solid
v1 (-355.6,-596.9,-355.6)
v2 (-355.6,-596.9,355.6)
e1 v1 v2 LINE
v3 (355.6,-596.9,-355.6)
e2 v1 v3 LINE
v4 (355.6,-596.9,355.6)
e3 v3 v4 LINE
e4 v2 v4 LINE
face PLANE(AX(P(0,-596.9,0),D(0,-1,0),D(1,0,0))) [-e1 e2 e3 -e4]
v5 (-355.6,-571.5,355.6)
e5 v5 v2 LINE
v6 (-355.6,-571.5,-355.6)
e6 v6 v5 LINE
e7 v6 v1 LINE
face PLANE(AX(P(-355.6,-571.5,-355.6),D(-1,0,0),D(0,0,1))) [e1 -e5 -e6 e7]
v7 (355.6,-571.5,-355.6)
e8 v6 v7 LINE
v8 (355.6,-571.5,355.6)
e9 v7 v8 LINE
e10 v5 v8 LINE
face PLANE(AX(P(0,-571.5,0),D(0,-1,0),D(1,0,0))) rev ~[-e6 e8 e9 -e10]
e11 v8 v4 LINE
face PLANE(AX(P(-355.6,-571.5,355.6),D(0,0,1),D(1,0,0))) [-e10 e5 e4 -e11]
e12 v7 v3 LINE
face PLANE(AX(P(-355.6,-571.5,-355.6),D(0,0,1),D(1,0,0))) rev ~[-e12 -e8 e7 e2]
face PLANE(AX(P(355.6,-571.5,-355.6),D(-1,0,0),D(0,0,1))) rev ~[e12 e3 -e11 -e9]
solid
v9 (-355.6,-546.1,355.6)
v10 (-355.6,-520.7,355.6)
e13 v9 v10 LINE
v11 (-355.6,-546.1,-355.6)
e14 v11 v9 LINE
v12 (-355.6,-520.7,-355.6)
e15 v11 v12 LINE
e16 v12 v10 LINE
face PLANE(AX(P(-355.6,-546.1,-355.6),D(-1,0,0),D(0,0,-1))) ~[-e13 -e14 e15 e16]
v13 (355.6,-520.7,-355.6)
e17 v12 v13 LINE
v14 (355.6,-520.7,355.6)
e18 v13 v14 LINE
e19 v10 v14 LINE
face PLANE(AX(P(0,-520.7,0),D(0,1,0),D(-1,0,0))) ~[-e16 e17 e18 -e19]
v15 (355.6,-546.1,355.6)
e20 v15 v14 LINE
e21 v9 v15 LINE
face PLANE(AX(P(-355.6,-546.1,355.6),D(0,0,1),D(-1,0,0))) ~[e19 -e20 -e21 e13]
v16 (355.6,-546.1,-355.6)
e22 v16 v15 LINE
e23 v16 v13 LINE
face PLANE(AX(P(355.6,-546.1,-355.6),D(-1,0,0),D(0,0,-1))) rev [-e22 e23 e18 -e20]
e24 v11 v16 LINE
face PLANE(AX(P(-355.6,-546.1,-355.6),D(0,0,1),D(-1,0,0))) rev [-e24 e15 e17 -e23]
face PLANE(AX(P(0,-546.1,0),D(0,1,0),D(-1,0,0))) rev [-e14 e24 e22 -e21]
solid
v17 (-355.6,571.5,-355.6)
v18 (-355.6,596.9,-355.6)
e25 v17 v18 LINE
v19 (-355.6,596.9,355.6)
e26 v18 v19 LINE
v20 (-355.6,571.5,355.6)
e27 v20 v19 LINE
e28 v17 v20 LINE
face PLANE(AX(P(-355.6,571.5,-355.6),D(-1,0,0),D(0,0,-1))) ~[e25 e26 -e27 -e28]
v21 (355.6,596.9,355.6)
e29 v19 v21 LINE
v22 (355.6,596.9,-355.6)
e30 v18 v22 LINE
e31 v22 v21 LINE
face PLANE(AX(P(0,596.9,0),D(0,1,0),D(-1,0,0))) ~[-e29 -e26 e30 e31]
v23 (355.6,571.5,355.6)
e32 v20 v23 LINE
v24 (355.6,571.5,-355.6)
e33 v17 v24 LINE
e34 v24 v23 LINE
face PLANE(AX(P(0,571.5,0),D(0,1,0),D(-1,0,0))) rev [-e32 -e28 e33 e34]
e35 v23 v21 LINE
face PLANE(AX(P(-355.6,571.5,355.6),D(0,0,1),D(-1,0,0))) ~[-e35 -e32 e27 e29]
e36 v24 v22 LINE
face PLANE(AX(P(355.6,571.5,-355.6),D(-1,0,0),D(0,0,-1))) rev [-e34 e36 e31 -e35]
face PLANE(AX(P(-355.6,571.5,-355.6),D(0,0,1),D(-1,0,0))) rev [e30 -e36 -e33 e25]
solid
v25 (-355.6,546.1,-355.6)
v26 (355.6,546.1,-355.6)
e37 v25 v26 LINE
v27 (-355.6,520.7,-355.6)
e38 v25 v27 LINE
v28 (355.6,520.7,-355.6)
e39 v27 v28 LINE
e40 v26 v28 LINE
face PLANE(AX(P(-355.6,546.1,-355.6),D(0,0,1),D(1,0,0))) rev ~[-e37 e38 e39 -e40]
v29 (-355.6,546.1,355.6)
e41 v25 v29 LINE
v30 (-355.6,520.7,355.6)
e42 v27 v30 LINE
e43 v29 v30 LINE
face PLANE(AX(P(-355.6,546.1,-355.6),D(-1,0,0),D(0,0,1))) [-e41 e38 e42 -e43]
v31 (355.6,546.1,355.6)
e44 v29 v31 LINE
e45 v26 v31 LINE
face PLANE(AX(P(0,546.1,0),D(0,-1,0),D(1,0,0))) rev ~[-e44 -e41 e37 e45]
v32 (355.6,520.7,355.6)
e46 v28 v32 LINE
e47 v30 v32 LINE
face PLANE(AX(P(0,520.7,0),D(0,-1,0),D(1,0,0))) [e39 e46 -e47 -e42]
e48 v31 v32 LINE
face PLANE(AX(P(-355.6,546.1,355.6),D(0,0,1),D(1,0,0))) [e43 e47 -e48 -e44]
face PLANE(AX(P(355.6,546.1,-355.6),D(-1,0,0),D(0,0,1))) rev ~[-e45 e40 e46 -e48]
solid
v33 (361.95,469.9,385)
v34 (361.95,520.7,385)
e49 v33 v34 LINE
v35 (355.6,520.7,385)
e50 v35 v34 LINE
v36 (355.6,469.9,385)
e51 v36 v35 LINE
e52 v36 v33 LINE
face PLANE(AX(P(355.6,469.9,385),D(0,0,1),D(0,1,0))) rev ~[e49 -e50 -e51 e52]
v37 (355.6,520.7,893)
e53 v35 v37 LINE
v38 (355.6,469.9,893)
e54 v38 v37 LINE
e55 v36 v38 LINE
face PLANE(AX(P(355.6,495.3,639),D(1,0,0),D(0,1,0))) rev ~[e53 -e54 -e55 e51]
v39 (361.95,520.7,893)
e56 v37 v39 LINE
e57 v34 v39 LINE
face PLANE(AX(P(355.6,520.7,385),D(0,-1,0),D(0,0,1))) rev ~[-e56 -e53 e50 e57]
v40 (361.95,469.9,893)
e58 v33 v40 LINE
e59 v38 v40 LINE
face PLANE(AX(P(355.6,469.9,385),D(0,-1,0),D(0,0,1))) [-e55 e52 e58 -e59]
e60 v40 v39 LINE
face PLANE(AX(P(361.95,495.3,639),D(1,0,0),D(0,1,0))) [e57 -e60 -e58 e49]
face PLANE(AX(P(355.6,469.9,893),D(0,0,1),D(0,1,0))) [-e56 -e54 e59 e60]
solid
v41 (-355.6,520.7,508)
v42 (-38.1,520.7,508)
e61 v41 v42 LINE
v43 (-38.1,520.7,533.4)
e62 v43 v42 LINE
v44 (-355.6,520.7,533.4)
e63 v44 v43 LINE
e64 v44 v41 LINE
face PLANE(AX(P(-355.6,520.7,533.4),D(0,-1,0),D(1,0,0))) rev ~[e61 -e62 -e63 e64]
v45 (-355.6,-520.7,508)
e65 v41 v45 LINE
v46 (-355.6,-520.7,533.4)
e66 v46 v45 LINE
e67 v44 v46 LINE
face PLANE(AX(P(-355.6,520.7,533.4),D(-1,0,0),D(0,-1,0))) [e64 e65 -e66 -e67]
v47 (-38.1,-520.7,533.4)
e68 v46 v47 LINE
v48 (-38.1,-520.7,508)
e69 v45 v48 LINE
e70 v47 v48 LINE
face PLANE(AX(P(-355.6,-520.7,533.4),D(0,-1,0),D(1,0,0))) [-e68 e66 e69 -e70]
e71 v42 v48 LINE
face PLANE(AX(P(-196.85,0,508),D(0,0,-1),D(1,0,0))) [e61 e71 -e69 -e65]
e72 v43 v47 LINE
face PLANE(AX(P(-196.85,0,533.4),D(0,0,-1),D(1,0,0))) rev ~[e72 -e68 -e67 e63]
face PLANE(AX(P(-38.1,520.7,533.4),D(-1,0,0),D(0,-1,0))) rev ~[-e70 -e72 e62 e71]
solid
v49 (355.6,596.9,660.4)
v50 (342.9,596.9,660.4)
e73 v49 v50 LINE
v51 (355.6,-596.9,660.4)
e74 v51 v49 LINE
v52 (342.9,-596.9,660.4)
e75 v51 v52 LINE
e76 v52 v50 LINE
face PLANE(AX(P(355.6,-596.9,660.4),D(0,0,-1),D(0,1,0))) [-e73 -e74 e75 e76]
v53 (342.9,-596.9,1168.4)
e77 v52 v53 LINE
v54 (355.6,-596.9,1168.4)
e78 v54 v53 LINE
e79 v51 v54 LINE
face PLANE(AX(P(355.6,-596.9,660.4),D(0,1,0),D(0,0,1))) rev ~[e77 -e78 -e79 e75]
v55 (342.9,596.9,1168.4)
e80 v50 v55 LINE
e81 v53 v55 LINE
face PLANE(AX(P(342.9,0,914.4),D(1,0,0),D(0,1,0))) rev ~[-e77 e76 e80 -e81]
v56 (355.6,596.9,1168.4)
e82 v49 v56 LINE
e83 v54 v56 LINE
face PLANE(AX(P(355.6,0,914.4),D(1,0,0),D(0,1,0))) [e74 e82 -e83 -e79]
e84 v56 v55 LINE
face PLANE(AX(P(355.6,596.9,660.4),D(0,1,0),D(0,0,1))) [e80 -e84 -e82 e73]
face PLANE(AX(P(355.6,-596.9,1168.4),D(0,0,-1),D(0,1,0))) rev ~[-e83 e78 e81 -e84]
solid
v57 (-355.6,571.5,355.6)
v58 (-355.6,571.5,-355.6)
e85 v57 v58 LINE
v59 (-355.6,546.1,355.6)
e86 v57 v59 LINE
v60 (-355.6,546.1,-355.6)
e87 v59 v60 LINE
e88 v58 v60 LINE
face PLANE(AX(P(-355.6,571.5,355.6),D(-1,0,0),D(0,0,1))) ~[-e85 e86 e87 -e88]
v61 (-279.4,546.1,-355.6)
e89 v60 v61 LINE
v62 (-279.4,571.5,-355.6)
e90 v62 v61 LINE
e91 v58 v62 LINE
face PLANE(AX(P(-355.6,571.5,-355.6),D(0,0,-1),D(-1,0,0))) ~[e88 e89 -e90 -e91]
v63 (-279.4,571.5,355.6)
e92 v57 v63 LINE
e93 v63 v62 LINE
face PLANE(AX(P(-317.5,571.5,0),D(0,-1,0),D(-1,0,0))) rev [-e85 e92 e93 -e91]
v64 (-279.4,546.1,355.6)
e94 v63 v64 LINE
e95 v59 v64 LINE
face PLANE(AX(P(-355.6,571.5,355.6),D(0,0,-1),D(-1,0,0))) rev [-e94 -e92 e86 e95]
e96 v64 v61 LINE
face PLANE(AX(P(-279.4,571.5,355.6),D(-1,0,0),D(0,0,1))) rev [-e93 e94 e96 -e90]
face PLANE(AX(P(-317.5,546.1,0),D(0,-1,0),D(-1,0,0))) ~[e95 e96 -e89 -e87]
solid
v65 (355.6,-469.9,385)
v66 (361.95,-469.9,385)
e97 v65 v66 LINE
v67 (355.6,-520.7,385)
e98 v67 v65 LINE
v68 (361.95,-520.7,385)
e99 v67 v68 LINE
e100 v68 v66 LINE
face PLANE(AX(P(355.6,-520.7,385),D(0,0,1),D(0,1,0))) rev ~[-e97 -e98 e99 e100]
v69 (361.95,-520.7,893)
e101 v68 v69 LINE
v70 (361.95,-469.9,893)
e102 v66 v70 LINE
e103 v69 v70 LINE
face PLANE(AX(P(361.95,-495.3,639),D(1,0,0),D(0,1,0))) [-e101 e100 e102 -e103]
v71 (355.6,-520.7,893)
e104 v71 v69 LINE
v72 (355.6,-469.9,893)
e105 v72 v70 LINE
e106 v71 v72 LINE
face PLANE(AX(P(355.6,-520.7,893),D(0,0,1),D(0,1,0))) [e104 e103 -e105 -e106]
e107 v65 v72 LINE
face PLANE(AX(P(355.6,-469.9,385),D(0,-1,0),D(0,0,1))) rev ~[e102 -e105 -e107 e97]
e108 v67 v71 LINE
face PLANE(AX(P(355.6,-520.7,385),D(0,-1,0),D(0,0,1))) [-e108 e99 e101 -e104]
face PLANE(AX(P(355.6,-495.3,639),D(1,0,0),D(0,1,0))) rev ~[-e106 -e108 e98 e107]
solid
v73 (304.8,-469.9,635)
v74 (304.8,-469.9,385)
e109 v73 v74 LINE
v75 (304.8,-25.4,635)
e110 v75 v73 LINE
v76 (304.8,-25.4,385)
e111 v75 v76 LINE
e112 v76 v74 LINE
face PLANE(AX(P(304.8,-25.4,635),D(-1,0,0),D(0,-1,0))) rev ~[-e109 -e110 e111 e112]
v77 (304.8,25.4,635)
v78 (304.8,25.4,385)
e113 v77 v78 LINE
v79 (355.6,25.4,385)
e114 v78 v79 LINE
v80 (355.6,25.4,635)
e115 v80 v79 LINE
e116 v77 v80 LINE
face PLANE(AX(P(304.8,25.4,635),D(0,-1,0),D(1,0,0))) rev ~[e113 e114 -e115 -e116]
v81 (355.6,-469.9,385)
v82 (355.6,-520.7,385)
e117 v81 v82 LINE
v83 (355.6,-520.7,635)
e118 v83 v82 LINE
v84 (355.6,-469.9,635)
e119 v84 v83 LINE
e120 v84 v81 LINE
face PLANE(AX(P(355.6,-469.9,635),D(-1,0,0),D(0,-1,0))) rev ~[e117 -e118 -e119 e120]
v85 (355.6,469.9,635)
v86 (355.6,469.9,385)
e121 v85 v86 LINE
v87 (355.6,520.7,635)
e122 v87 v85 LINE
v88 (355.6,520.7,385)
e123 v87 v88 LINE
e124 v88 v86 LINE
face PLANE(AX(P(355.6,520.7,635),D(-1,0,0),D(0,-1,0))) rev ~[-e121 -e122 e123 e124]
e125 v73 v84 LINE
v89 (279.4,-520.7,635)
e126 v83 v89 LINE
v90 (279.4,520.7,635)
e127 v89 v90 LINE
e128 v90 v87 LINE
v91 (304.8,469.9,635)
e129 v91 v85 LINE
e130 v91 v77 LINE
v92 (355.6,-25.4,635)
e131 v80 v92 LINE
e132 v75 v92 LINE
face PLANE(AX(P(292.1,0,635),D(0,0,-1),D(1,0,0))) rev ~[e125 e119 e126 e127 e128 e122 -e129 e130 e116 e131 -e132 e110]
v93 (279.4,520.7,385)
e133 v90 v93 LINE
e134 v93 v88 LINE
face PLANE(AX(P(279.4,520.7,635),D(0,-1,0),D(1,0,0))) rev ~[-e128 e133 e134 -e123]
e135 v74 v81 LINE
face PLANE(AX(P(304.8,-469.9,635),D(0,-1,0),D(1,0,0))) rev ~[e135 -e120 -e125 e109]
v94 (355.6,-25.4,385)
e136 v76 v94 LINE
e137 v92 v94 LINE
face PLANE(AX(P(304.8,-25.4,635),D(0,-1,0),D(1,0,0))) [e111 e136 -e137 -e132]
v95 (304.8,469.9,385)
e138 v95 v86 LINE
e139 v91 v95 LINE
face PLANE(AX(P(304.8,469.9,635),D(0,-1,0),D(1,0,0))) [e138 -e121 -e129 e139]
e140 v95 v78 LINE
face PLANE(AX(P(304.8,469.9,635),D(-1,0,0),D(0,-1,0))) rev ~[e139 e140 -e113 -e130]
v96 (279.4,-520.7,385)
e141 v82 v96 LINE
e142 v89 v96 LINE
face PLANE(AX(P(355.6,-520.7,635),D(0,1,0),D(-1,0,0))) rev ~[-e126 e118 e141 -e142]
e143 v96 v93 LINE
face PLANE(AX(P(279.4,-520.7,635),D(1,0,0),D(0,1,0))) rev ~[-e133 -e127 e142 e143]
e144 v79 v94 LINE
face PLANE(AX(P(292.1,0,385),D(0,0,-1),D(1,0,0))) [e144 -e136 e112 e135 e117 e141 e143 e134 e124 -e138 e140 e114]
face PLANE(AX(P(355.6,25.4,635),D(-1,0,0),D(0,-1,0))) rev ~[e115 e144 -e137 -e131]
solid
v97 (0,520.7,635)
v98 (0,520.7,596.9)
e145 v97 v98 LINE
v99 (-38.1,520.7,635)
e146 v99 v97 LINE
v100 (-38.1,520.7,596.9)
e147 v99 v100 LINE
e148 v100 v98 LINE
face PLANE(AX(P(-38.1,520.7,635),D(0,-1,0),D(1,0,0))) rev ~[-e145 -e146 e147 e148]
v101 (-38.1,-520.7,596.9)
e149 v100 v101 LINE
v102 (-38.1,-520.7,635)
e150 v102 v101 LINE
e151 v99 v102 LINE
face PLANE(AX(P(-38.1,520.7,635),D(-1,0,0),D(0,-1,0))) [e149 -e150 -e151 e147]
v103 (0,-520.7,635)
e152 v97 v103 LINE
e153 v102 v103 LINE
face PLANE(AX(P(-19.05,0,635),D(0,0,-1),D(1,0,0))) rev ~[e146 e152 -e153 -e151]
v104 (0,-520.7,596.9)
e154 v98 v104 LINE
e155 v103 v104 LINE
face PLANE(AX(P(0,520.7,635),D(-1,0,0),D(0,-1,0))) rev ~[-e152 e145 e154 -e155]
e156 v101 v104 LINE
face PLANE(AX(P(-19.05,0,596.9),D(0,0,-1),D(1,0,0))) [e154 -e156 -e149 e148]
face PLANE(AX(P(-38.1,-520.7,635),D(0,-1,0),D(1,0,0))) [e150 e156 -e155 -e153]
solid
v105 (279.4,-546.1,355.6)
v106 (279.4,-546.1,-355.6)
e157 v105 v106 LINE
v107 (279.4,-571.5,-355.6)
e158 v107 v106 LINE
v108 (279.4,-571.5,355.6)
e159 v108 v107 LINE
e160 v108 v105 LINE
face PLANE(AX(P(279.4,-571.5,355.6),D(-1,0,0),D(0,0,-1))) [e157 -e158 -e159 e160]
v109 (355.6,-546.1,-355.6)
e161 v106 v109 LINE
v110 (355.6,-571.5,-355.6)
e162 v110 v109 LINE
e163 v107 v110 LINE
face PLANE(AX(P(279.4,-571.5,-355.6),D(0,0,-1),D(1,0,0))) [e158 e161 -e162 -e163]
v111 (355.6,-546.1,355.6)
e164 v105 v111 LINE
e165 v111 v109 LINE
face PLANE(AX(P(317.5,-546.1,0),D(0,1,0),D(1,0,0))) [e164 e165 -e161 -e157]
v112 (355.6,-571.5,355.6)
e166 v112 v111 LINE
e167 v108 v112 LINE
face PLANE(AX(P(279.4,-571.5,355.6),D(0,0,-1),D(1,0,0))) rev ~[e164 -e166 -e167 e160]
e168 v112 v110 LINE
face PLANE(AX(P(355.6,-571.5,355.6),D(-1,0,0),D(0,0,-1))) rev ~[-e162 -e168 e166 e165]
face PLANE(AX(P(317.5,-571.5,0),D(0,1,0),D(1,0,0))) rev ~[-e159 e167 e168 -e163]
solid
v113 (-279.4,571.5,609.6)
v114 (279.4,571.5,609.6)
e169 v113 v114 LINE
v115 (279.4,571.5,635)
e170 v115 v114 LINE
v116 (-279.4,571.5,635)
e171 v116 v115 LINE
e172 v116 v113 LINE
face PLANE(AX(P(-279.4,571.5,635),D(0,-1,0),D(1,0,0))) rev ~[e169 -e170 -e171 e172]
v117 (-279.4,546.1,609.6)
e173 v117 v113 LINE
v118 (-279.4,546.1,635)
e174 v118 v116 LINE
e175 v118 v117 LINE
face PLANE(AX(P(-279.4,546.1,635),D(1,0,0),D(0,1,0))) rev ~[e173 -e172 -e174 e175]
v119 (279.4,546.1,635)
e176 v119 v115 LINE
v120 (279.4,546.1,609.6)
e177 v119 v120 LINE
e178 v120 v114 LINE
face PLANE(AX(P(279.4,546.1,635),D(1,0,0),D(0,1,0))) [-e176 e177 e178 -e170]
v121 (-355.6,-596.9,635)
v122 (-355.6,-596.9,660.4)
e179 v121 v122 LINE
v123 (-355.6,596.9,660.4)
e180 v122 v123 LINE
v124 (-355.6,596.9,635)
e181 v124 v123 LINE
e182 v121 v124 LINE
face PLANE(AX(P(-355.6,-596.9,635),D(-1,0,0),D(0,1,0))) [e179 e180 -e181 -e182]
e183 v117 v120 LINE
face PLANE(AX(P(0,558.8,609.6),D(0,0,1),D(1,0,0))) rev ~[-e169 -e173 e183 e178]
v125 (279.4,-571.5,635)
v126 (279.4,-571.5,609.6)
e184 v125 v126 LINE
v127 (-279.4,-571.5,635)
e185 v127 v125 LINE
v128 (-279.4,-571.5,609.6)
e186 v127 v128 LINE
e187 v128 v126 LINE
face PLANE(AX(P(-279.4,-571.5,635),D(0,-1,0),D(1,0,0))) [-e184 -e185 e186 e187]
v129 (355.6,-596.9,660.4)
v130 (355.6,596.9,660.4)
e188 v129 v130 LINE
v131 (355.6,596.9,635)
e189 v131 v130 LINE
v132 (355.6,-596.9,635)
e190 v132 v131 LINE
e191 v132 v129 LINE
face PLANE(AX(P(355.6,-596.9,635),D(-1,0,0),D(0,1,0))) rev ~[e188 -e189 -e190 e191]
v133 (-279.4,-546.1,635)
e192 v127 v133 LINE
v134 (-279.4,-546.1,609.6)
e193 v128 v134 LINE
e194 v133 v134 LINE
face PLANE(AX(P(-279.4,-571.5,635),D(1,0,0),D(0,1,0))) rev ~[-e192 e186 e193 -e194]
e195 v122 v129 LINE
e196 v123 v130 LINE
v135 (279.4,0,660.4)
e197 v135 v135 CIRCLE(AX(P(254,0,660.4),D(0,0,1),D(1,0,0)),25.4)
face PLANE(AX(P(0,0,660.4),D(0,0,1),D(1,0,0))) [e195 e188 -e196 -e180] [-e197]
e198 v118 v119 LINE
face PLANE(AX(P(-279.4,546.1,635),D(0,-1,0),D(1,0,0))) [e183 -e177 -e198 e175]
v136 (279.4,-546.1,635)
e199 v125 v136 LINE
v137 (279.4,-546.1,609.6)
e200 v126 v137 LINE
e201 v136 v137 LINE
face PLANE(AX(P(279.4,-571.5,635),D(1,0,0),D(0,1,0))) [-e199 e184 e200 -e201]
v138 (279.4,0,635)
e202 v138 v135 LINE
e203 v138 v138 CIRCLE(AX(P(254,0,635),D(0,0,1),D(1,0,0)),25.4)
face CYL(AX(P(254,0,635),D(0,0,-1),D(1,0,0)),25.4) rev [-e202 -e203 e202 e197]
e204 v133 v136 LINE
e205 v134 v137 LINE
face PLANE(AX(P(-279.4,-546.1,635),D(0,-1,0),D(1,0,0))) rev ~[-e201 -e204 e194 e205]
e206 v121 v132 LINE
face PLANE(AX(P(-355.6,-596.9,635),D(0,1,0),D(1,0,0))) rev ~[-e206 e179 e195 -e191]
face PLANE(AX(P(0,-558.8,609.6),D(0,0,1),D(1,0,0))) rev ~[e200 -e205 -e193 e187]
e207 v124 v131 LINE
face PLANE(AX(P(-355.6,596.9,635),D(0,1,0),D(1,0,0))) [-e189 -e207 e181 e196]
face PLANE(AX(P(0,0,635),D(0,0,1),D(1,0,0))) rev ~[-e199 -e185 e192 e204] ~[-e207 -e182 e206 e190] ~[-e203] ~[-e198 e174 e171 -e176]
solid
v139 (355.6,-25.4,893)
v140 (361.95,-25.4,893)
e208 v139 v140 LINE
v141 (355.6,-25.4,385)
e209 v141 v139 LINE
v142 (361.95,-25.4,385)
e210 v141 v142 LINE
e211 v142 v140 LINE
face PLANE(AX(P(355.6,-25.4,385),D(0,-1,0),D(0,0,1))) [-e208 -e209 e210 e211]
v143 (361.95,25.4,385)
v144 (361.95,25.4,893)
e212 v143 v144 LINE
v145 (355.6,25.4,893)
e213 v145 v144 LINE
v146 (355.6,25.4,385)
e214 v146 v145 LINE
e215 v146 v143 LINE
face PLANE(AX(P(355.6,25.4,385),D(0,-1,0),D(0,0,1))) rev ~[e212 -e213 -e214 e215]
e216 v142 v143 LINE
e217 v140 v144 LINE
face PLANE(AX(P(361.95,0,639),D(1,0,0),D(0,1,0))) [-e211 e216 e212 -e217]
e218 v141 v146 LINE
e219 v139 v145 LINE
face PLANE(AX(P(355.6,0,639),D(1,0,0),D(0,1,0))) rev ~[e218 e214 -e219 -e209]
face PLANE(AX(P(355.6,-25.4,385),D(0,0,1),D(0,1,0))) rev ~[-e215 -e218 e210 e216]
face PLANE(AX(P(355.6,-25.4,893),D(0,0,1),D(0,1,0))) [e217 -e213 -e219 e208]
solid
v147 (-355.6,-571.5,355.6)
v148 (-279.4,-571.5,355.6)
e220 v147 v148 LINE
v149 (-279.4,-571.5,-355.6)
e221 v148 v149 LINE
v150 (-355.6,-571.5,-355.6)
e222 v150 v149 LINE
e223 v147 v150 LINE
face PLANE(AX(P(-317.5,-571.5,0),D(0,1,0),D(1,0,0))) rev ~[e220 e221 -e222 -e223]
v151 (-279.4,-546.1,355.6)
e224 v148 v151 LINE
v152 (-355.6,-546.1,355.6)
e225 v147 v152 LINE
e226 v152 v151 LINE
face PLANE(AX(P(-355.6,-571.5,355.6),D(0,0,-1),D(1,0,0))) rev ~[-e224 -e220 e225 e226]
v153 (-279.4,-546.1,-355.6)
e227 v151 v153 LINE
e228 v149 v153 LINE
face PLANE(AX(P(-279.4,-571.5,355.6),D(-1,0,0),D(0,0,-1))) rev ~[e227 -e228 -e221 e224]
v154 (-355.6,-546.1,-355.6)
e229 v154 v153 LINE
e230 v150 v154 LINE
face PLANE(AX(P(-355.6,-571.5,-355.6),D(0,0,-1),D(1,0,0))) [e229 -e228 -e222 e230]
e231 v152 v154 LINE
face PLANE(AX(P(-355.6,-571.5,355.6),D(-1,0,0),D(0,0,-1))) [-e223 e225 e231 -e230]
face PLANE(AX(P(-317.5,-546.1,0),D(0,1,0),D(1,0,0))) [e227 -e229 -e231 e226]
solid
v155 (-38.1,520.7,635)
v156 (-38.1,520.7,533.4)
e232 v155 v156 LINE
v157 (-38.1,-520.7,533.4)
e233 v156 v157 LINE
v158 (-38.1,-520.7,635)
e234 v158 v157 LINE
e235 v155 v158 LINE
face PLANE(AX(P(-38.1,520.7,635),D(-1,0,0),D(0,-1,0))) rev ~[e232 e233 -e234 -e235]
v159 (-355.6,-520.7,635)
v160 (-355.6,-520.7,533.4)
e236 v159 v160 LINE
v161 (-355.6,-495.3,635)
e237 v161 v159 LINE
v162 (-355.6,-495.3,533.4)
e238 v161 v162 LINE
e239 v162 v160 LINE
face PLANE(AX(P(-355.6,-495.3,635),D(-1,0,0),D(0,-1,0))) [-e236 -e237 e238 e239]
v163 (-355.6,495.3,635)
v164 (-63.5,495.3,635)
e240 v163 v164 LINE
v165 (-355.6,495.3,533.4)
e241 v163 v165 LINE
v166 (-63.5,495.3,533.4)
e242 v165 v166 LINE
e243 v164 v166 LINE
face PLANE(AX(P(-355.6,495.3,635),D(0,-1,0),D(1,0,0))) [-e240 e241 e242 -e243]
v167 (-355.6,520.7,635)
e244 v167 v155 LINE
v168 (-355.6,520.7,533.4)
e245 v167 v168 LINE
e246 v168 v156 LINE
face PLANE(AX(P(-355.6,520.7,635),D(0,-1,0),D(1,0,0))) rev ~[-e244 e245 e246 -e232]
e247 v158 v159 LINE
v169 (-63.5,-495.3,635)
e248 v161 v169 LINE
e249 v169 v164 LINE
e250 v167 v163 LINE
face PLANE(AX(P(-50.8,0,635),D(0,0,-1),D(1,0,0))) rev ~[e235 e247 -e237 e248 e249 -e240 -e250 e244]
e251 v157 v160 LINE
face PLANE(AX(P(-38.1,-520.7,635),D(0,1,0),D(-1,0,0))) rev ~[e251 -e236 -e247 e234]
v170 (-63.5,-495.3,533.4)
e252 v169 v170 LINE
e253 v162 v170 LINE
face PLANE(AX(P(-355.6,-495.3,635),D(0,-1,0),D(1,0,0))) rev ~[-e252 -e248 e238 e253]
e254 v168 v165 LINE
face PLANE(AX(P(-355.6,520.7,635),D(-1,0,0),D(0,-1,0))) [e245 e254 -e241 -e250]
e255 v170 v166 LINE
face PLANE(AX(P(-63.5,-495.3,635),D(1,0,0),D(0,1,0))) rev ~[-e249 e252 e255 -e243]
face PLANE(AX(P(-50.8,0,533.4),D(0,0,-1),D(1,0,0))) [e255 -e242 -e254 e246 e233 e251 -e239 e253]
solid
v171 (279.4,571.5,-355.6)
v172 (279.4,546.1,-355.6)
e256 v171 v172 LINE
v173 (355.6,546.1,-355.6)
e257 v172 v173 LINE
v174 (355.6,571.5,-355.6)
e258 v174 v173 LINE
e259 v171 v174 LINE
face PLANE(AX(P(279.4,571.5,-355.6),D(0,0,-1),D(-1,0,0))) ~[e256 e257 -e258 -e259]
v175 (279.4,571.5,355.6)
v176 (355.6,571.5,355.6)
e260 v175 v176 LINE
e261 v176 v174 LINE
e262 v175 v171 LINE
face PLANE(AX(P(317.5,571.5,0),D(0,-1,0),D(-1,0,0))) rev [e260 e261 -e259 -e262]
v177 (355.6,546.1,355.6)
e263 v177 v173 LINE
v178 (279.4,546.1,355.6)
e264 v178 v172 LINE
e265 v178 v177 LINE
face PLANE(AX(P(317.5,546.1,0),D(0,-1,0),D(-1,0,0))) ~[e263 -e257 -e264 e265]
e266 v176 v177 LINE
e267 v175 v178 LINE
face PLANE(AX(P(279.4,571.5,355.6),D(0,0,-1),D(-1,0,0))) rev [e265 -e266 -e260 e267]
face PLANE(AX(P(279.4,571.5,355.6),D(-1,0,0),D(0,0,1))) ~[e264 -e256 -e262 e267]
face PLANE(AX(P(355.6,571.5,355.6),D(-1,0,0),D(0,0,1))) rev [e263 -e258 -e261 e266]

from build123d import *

# Parameters (mm, degrees)
F1_W      = 711.2
F1_H      = 711.2
F2_DEPTH  = 25.4
F5_W      = 76.2
F5_H      = 711.2
F7_DEPTH  = 25.4
F10_W     = 558.8
F10_H     = 25.4
F11_DEPTH = 25.4
F12_W     = 711.2
F12_H     = 1193.8
F12_R     = 25.4
F13_DEPTH = 25.4
F14_W     = 292.1
F14_H     = 25.4
F15_DEPTH = 101.6
F16_W     = 317.5
F16_H     = 1041.4
F17_DEPTH = 25.4
F18_W     = 50.8
F18_H     = 50.8
F19_DEPTH = 250
F20_W     = 1193.8
F20_H     = 508
F21_DEPTH = 12.7
F22_W     = 50.8
F22_H     = 508
F23_DEPTH = 6.35
F24_W     = 38.1
F24_H     = 1041.4
F25_DEPTH = 38.1


with BuildPart() as f2:
    # F1 (on offset) → F2 (new body)
    with BuildSketch(Plane.XZ.offset(571.5)):
        Rectangle(F1_W, F1_H)
    extrude(amount=F2_DEPTH)


with BuildPart() as f6_1:
    # F6: instance of F2
    add(f2.part.mirror(Plane.XZ.offset(558.8)))


with BuildPart() as f7:
    # F5 (on offset) → F7 (new body)
    with BuildSketch(Plane(origin=(0, -571.5, 0), x_dir=(1, 0, 0), z_dir=(0, 1, 0))):
        with Locations((-317.5, 0)):
            Rectangle(F5_W, F5_H)
        with Locations((317.5, 0)):
            Rectangle(F5_W, F5_H)
    extrude(amount=F7_DEPTH)


with BuildPart() as f8_1:
    # F8: instance of F2
    add(f2.part.mirror(Plane.XZ))


with BuildPart() as f8_2:
    # F8: instance of F7
    add(f7.part.mirror(Plane.XZ))


with BuildPart() as f8_3:
    # F8: instance of F6_1
    add(f6_1.part.mirror(Plane.XZ))


with BuildPart() as f11:
    # F10 (on offset) → F11 (new body)
    with BuildSketch(Plane.XY.offset(635)):
        with Locations((0, -558.8)):
            Rectangle(F10_W, F10_H)
        with Locations((0, 558.8)):
            Rectangle(F10_W, F10_H)
    extrude(amount=-F11_DEPTH)

    # F12 (on face) → F13 (join)
    with BuildSketch(Plane.XY.offset(635)):
        Rectangle(F12_W, F12_H)
        with Locations((254, 0)):
            Circle(F12_R, mode=Mode.SUBTRACT)
    extrude(amount=F13_DEPTH)


with BuildPart() as f15:
    # F14 (on face) → F15 (new body)
    with BuildSketch(Plane(origin=(0, 0, 635), x_dir=(1, 0, 0), z_dir=(0, 0, -1))):
        Polygon((-63.5, -520.7), (-38.1, -520.7), (-38.1, 520.7), (-63.5, 520.7), (-63.5, 495.3), (-63.5, 0), (-63.5, -495.3), align=None)
        with Locations((-209.55, -508)):
            Rectangle(F14_W, F14_H)
        with Locations((-209.55, 508)):
            Rectangle(F14_W, F14_H)
    extrude(amount=F15_DEPTH)


with BuildPart() as f17:
    # F16 (on face) → F17 (new body)
    with BuildSketch(Plane(origin=(0, 0, 533.4), x_dir=(1, 0, 0), z_dir=(0, 0, -1))):
        with Locations((-196.85, 0)):
            Rectangle(F16_W, F16_H)
    extrude(amount=F17_DEPTH)


with BuildPart() as f19:
    # F18 (on face) → F19 (new body)
    with BuildSketch(Plane(origin=(0, 0, 635), x_dir=(1, 0, 0), z_dir=(0, 0, -1))):
        Polygon((279.4, 520.7), (279.4, -520.7), (304.8, -520.7), (304.8, -469.9), (304.8, -25.4), (304.8, 25.4), (304.8, 469.9), (304.8, 520.7), align=None)
        with Locations((330.2, -495.3)):
            Rectangle(F18_W, F18_H)
        with Locations((330.2, 495.3)):
            Rectangle(F18_W, F18_H)
        with Locations((330.2, 0)):
            Rectangle(F18_W, F18_H)
    extrude(amount=F19_DEPTH)


with BuildPart() as f21:
    # F20 (on face) → F21 (new body)
    with BuildSketch(Plane.YZ.offset(355.6)):
        with Locations((0, 914.4)):
            Rectangle(F20_W, F20_H)
    extrude(amount=-F21_DEPTH)


with BuildPart() as f23:
    # F22 (on face) → F23 (new body)
    with BuildSketch(Plane.YZ.offset(355.6)):
        with Locations((0, 639)):
            Rectangle(F22_W, F22_H)
        with Locations((495.3, 639)):
            Rectangle(F22_W, F22_H)
        with Locations((-495.3, 639)):
            Rectangle(F22_W, F22_H)
    extrude(amount=F23_DEPTH)


with BuildPart() as f25:
    # F24 (on face) → F25 (new body)
    with BuildSketch(Plane(origin=(0, 0, 635), x_dir=(1, 0, 0), z_dir=(0, 0, -1))):
        with Locations((-19.05, 0)):
            Rectangle(F24_W, F24_H)
    extrude(amount=F25_DEPTH)


solid = Compound([f2.part, f6_1.part, f7.part, f8_1.part, f8_2.part, f8_3.part, f11.part, f15.part, f17.part, f19.part, f21.part, f23.part, f25.part])
